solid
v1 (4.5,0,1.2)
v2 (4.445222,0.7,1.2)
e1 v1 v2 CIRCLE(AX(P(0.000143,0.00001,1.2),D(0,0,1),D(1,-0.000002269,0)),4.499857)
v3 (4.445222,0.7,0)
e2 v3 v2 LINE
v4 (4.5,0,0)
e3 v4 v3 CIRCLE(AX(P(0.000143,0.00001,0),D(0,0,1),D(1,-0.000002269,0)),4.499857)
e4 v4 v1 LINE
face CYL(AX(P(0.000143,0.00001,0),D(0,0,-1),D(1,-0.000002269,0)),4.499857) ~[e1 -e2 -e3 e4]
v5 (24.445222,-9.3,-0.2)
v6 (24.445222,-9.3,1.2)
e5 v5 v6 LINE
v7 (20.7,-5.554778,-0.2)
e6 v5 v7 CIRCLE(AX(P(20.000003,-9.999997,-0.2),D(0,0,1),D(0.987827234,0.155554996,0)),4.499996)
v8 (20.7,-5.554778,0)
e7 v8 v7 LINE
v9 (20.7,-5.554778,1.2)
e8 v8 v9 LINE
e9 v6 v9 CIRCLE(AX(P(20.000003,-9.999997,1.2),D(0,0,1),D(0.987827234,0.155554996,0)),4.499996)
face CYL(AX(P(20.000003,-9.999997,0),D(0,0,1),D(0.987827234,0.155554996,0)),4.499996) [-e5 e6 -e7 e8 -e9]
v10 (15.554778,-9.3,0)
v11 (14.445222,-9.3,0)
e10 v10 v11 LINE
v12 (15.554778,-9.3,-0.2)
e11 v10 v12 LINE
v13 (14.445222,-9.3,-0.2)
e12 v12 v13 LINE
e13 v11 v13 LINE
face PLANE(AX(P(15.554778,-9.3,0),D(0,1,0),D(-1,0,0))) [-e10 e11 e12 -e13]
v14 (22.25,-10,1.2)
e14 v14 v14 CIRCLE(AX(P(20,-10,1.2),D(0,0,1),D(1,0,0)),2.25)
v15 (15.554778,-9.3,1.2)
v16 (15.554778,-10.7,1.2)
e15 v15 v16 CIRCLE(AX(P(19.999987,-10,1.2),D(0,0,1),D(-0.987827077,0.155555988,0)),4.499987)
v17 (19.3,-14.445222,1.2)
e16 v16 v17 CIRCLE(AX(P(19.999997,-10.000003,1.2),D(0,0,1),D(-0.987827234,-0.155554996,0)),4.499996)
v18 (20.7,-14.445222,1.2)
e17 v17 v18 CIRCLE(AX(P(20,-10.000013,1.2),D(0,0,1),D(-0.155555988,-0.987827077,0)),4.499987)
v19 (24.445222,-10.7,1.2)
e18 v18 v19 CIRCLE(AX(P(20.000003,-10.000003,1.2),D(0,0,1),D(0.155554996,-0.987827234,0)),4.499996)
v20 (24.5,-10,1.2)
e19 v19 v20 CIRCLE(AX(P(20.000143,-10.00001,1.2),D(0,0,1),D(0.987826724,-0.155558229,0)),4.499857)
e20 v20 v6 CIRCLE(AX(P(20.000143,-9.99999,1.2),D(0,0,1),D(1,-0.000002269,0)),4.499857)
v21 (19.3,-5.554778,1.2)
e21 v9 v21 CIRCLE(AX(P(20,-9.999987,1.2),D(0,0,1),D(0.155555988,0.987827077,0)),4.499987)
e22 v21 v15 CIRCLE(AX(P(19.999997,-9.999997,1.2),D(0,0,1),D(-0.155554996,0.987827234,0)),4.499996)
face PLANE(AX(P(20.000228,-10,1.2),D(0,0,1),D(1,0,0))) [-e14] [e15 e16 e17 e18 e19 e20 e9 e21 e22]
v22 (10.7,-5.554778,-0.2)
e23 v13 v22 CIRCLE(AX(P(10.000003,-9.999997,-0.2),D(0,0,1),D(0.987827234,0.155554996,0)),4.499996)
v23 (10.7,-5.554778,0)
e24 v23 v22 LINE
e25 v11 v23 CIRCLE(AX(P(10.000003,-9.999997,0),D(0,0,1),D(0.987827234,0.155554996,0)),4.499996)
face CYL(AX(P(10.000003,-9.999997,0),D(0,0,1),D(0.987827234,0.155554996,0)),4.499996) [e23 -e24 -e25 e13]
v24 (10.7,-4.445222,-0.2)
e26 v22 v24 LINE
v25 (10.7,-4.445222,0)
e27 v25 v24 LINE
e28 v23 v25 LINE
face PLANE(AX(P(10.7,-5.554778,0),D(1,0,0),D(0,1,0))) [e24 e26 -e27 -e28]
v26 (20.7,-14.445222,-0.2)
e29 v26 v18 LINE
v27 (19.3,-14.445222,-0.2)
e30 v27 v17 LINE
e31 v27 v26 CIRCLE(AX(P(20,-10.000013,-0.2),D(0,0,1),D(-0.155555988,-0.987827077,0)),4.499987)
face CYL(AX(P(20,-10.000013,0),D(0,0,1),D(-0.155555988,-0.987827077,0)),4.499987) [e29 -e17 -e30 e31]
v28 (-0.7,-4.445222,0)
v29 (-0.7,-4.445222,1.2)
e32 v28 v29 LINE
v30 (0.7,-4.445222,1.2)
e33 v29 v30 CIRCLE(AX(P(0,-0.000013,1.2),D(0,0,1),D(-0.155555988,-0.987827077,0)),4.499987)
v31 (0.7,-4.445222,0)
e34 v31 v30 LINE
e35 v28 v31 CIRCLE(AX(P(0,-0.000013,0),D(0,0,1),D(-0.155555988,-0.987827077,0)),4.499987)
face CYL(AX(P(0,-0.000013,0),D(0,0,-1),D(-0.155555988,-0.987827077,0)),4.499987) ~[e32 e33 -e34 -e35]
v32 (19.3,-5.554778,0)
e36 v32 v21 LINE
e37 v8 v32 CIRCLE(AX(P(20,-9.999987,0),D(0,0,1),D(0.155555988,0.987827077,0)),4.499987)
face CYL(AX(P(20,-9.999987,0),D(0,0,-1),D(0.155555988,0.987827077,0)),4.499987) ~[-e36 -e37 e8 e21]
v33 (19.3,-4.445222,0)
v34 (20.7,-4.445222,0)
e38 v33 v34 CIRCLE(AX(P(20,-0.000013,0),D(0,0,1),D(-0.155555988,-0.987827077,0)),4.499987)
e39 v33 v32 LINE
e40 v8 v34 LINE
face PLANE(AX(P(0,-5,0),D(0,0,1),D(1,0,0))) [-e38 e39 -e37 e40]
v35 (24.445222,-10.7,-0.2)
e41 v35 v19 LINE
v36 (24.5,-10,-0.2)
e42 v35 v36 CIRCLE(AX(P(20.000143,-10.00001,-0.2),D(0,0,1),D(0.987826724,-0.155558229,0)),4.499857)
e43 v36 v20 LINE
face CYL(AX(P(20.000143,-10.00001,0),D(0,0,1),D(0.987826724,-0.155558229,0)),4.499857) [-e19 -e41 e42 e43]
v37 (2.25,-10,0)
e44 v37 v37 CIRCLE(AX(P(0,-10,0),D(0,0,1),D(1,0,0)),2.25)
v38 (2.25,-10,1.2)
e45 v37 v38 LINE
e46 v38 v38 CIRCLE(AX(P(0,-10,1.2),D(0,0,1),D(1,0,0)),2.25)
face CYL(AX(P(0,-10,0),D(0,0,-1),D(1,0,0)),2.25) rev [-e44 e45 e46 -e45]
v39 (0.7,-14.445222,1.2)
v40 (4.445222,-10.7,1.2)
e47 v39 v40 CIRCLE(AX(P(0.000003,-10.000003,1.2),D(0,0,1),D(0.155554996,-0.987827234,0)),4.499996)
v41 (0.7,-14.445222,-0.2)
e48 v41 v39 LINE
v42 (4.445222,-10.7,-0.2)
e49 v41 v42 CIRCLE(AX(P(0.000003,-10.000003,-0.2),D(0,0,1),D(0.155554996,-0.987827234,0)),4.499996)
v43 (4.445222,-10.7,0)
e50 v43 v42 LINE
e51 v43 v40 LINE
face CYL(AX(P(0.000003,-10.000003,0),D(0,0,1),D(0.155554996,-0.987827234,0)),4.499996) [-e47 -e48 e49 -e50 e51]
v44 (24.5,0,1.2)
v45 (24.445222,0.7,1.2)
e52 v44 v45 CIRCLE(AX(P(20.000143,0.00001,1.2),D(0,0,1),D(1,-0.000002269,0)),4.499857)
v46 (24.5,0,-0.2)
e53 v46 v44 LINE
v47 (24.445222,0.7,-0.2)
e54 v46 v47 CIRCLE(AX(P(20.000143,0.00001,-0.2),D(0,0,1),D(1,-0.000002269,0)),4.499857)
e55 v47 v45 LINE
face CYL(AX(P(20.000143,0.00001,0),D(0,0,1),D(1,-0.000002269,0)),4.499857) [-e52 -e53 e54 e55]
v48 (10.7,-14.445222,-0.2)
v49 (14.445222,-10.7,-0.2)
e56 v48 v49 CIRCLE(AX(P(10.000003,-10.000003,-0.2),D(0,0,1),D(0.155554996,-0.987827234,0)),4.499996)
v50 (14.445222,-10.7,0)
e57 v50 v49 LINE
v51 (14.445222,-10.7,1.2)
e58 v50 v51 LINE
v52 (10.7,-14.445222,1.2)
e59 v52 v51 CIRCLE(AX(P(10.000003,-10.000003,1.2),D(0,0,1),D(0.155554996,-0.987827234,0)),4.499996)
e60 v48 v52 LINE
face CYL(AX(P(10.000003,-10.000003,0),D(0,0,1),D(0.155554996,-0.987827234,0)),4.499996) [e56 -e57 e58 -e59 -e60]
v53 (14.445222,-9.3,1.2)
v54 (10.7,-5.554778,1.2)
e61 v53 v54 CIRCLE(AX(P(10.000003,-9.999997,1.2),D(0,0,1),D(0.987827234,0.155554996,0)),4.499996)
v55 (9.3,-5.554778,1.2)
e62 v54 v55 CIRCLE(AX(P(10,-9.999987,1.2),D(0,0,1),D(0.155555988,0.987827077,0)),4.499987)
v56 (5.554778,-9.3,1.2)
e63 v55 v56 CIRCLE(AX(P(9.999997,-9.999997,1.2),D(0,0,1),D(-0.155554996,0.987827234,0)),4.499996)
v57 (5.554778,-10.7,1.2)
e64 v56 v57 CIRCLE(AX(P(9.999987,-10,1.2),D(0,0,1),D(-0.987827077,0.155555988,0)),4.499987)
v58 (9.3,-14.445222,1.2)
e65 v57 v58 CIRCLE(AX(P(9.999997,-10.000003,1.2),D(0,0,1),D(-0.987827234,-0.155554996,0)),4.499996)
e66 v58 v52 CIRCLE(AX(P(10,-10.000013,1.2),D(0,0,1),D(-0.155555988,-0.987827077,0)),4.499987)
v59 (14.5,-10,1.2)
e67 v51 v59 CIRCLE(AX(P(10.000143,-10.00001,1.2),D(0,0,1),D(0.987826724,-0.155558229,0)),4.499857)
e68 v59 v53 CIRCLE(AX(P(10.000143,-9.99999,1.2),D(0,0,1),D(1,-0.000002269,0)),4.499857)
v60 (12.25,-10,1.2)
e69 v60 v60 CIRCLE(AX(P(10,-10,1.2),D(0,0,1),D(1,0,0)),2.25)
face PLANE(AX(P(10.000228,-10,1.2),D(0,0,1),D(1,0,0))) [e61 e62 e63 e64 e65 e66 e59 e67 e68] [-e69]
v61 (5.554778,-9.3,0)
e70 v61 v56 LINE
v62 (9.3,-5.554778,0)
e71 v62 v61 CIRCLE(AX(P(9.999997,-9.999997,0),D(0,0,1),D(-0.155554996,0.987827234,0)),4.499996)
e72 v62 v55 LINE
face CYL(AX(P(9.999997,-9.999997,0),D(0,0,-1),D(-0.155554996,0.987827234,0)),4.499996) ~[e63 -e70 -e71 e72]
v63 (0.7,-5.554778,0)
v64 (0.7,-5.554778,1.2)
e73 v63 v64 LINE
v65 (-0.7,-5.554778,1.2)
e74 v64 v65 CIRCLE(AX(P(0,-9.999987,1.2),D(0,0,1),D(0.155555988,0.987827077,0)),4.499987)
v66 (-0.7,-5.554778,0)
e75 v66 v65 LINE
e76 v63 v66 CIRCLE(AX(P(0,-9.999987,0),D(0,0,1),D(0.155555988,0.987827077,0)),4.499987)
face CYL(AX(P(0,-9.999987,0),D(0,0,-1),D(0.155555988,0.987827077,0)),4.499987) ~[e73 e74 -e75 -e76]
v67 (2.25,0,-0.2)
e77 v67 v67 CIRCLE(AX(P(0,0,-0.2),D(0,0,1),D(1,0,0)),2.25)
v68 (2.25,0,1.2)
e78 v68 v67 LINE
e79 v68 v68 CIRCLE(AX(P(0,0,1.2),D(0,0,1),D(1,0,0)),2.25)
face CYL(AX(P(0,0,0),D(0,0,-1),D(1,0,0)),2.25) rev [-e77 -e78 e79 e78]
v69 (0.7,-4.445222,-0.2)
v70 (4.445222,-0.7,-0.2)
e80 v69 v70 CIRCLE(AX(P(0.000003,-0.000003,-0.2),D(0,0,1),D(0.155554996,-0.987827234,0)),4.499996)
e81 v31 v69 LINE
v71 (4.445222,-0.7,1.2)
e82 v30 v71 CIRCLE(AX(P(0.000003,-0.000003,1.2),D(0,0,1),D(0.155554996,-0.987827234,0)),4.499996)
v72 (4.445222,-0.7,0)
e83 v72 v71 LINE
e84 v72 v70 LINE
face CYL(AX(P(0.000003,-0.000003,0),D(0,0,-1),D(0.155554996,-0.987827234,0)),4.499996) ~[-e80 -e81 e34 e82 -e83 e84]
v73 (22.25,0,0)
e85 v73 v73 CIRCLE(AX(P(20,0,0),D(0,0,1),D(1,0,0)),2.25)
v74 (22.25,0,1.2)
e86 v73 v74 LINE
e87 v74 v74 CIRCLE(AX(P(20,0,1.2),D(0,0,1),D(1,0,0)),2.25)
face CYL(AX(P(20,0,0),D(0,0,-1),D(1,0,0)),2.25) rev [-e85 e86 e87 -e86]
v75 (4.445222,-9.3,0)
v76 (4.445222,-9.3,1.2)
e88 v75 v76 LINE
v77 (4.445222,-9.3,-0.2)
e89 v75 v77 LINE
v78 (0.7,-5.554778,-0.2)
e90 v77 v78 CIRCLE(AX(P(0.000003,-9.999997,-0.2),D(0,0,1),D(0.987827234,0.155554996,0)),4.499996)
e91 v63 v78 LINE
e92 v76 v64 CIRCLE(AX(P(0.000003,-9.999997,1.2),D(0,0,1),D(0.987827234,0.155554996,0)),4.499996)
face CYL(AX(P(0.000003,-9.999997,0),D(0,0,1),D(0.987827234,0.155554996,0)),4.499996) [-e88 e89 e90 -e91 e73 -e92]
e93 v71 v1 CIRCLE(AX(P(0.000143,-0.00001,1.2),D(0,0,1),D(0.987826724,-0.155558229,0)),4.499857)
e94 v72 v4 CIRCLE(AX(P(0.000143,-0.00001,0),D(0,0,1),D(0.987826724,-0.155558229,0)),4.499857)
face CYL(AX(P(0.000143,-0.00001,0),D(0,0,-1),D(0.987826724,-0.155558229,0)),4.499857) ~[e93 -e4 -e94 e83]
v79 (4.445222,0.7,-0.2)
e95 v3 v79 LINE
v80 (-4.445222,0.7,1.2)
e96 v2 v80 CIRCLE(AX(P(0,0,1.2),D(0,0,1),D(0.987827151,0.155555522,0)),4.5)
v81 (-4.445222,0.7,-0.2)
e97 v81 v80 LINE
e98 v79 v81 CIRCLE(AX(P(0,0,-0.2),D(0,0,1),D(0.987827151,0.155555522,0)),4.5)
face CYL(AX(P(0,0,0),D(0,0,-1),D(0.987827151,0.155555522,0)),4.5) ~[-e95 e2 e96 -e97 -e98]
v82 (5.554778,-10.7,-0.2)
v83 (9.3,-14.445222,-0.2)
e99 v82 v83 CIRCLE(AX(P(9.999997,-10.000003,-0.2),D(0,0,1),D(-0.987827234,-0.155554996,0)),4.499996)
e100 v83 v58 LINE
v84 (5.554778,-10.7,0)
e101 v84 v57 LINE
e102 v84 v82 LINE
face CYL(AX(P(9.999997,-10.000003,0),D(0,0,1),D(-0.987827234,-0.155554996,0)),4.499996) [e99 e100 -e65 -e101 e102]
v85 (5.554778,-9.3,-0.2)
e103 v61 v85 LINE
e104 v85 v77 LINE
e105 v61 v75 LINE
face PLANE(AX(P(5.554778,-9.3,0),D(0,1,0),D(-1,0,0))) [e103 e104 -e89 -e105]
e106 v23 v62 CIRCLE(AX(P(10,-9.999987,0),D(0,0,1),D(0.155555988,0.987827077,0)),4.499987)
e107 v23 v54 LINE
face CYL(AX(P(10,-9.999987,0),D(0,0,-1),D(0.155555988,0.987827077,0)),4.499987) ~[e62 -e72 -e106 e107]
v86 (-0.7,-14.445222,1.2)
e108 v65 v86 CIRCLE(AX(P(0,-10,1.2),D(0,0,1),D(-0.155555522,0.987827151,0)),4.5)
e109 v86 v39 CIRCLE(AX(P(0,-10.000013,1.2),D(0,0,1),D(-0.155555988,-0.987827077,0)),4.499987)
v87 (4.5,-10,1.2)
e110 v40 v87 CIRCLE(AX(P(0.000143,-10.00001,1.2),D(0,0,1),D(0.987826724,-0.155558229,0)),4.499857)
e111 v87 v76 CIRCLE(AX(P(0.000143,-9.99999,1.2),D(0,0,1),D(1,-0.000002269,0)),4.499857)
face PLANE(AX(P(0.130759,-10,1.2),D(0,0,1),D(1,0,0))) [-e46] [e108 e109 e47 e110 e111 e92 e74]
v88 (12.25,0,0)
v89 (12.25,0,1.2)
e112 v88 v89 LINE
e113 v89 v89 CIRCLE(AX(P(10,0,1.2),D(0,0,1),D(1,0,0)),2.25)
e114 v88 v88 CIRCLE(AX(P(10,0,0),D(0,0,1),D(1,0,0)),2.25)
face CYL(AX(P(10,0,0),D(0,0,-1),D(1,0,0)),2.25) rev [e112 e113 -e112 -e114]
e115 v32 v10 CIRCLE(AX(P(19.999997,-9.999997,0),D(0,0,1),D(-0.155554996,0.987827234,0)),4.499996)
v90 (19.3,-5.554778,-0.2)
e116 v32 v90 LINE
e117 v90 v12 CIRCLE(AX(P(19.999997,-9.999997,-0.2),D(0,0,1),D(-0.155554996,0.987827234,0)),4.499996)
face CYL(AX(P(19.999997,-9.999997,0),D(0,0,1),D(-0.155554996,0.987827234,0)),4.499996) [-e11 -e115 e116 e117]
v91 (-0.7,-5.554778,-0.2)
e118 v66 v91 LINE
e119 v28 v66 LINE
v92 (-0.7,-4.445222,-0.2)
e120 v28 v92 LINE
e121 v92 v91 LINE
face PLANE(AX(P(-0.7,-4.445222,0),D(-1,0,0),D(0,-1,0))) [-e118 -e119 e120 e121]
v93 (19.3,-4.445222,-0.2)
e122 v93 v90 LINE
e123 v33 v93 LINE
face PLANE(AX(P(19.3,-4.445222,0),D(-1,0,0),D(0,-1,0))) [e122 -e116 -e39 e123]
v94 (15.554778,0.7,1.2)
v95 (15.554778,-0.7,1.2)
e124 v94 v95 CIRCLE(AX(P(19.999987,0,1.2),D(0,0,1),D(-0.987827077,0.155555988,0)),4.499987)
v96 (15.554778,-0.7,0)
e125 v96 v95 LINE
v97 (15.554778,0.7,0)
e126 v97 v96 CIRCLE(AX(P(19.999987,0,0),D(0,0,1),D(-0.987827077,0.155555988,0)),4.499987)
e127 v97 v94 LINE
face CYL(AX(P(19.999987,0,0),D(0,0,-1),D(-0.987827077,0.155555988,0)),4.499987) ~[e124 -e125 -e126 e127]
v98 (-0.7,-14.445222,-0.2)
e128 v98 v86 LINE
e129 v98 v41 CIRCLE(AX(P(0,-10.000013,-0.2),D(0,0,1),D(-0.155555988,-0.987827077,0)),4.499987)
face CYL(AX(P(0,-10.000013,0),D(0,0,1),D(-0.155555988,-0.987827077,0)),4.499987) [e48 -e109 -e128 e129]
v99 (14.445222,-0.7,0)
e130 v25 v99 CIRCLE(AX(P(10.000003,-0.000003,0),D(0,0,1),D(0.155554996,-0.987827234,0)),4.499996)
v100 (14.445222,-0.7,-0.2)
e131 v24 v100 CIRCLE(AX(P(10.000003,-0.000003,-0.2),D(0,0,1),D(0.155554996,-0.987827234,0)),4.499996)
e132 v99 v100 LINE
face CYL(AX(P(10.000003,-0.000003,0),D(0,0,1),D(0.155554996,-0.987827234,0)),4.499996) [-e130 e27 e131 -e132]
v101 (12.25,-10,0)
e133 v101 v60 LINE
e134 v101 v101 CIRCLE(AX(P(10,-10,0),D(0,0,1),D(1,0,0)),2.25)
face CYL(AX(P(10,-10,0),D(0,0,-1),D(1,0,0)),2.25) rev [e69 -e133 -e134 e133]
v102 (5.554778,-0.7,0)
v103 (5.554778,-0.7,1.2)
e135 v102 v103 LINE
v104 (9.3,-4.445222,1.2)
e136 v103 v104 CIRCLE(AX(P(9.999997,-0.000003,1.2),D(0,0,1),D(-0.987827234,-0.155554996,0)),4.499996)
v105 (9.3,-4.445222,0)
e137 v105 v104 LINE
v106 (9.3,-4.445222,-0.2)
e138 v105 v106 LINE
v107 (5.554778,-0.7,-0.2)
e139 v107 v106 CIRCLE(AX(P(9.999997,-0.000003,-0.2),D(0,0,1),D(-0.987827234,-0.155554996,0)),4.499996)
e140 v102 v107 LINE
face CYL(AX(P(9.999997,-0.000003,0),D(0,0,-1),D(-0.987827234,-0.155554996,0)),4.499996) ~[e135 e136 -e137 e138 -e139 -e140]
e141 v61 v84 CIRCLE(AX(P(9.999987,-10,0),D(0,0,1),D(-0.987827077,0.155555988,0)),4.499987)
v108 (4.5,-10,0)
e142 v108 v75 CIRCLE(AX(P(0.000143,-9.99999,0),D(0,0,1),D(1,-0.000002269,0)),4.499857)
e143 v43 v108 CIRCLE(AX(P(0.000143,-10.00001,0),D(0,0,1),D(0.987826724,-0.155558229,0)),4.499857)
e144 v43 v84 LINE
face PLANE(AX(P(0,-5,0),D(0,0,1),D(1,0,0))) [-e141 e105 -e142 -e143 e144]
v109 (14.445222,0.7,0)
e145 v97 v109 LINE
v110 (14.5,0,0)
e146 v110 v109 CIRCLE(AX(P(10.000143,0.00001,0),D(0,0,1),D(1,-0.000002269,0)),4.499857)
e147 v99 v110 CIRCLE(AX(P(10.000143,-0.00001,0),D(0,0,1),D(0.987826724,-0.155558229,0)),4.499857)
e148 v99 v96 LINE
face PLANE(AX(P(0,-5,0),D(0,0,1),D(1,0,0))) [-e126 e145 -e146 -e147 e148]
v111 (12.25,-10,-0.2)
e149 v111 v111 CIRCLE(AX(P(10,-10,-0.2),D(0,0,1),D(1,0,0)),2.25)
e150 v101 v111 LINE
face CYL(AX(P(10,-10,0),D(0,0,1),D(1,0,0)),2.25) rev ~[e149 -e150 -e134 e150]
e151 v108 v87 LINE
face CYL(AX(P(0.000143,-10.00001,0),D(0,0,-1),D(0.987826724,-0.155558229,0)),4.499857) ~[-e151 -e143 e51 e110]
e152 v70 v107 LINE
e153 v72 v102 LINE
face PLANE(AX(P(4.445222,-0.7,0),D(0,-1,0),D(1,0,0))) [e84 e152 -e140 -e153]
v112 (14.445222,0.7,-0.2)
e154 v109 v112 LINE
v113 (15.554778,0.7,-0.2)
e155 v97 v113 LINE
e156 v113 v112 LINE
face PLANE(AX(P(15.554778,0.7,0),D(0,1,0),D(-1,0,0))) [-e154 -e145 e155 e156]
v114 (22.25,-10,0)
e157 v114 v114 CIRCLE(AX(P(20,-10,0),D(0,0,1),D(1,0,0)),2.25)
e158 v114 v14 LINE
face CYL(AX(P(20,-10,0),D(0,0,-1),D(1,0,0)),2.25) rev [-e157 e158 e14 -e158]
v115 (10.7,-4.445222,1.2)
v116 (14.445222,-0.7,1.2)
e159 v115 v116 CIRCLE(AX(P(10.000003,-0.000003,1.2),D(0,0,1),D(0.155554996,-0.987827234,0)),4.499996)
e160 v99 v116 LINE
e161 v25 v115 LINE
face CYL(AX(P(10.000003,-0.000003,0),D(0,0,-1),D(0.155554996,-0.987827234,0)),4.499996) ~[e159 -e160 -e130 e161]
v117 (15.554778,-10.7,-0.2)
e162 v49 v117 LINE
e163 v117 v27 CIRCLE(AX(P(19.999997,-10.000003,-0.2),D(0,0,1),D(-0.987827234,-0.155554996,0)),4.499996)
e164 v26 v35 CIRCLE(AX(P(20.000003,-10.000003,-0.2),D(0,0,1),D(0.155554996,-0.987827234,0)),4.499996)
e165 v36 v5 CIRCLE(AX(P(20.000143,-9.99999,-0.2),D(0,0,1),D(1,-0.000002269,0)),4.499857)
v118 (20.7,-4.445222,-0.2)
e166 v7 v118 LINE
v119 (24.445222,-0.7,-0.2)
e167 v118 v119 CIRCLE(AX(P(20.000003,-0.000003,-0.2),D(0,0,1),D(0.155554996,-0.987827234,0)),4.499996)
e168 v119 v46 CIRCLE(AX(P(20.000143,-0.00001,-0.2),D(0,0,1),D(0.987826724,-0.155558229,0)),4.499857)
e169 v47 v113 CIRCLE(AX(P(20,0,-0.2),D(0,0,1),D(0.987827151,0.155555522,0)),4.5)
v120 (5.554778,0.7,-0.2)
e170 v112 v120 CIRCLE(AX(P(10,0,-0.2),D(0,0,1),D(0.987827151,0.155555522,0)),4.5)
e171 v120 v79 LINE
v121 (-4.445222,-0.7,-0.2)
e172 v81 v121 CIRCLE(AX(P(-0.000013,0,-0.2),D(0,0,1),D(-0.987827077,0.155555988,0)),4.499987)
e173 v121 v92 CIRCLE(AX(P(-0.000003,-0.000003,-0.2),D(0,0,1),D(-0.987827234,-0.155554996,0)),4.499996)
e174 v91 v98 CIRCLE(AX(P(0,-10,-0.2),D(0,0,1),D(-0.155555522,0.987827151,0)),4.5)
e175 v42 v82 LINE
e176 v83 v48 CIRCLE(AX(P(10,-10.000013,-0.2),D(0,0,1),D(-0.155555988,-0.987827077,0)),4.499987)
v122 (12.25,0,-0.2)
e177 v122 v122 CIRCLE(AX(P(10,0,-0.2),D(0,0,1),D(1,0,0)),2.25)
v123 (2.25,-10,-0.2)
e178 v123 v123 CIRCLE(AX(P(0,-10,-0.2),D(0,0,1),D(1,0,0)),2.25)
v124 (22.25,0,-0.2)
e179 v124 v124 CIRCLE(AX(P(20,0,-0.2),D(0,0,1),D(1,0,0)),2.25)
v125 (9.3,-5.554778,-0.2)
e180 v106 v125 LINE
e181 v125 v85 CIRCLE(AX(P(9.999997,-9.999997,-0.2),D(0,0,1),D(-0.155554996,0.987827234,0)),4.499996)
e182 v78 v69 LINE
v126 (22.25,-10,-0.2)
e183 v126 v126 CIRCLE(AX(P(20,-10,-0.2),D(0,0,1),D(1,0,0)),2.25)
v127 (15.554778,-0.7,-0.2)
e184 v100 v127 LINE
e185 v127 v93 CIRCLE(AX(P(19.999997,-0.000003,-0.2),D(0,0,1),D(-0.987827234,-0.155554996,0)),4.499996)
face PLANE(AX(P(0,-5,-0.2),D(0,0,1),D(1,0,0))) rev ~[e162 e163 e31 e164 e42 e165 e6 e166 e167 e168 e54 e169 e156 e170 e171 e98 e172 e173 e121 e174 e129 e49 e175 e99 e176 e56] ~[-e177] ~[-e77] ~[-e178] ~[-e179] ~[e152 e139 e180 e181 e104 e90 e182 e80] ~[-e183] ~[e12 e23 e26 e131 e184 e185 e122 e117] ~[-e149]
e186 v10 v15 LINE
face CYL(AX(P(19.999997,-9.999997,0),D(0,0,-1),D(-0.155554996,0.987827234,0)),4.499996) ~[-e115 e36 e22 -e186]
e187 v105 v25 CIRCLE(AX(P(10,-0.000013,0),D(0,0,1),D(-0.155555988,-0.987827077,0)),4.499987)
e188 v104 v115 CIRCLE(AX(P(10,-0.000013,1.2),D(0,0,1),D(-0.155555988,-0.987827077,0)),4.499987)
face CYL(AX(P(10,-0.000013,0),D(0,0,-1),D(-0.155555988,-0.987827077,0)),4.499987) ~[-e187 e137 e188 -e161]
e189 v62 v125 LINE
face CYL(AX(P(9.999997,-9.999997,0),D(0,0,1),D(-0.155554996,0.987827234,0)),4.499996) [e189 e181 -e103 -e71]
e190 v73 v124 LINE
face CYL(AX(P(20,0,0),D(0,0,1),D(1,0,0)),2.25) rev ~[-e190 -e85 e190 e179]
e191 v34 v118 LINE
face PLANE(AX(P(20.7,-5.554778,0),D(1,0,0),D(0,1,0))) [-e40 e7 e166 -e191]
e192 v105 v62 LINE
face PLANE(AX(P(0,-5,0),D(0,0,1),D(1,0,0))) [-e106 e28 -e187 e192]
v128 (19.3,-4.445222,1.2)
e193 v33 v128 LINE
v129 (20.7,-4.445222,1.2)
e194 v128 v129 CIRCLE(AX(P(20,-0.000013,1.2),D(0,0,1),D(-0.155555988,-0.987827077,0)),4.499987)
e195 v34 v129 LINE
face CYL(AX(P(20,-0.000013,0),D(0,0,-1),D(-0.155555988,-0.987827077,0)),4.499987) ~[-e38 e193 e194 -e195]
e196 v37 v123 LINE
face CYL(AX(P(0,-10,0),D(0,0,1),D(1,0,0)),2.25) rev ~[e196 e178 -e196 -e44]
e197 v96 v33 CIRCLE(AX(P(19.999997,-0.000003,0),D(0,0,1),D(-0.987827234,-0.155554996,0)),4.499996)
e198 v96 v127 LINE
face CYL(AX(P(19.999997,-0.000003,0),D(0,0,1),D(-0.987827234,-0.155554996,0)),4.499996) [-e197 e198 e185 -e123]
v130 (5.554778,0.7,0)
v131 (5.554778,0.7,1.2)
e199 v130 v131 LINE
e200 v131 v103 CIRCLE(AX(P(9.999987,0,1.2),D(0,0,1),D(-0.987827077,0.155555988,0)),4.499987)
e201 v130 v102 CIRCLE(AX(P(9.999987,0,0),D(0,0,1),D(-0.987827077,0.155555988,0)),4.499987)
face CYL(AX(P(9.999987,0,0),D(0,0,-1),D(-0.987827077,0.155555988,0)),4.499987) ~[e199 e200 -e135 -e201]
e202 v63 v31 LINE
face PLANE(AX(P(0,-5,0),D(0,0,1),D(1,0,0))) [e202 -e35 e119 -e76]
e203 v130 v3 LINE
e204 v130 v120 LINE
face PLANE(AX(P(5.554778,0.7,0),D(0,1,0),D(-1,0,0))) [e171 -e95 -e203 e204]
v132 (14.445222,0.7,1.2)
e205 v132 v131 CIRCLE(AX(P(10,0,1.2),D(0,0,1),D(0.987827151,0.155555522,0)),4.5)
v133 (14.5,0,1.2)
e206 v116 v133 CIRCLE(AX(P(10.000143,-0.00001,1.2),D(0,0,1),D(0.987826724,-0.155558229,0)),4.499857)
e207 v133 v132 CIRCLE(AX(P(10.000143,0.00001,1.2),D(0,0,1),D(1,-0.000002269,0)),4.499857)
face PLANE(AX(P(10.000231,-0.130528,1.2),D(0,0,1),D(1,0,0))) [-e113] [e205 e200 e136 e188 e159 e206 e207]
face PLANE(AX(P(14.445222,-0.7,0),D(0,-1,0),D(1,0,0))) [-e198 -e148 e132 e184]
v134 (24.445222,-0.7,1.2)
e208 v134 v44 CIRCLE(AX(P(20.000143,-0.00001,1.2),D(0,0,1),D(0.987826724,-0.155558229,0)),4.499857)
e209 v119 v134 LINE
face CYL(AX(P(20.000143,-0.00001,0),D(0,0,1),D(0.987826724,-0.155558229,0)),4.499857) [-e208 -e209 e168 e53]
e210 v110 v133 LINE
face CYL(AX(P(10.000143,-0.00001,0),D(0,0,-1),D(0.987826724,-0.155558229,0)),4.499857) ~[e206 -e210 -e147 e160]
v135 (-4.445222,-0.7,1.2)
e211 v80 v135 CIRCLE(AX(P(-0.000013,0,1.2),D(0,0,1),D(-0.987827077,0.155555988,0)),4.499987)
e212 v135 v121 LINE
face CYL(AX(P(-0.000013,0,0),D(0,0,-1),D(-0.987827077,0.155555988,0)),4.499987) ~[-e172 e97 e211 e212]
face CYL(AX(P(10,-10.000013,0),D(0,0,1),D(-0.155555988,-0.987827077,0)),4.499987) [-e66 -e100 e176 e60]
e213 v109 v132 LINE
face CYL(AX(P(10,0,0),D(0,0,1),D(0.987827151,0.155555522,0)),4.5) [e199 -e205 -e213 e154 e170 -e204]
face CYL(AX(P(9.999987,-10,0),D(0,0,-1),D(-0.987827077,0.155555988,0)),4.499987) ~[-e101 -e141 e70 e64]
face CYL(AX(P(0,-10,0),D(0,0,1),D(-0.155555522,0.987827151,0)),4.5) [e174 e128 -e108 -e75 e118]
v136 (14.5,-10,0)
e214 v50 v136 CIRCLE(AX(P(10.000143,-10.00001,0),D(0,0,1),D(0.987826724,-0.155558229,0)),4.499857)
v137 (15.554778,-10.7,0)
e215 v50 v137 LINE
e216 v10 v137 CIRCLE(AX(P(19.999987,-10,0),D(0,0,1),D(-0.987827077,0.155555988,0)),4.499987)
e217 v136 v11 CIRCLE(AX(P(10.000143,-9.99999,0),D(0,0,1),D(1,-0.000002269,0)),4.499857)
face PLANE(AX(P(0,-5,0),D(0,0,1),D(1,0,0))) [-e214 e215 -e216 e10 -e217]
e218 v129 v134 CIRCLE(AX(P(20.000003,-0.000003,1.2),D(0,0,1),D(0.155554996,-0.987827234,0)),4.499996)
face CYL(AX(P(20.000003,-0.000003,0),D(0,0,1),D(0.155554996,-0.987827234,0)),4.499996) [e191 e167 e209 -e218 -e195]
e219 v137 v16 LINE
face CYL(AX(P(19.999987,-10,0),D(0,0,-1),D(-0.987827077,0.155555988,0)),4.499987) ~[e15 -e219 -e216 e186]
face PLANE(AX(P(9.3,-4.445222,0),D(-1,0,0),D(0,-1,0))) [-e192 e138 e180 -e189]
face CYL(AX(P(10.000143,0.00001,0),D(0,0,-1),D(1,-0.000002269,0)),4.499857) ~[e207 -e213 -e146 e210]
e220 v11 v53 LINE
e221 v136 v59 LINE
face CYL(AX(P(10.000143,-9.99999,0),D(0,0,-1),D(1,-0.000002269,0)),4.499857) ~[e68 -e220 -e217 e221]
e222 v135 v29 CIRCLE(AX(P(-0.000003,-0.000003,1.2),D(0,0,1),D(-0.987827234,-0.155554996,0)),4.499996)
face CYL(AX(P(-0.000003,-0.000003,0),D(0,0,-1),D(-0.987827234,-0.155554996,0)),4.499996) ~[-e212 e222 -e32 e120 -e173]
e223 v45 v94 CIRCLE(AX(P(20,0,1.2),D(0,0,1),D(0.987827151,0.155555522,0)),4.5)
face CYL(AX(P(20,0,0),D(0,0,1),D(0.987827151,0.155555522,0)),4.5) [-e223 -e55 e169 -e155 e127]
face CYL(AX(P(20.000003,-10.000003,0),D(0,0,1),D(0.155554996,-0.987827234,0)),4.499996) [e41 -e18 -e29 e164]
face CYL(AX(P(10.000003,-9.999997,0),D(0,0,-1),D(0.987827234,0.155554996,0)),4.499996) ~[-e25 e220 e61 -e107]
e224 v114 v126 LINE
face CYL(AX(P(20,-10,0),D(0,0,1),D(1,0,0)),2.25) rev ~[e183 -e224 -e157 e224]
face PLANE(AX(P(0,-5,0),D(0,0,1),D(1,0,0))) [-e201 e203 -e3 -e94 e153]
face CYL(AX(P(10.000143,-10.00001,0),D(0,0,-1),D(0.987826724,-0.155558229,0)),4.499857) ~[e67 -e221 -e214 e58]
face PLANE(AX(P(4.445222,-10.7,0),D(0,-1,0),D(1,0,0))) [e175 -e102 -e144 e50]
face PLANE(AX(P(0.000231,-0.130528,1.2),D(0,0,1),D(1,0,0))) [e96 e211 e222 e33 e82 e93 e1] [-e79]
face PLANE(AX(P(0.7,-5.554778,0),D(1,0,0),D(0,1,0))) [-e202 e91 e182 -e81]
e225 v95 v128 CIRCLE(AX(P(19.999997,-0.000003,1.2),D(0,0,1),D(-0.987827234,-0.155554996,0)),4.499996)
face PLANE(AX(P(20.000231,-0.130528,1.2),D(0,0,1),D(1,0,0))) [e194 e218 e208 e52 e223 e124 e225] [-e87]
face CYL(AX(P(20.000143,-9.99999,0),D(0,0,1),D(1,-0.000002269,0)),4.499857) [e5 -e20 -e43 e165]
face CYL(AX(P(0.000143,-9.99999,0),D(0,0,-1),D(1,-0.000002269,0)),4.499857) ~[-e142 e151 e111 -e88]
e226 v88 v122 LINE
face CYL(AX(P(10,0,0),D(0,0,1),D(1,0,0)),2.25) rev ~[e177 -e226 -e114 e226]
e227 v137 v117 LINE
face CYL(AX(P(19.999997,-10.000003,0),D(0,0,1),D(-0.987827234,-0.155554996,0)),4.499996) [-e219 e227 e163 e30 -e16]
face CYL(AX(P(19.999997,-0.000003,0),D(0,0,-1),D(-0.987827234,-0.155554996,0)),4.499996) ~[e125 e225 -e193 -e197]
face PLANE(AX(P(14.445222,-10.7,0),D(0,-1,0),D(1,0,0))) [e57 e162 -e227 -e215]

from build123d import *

# Parameters (mm, degrees)
F0_R     = 2.25
F1_DEPTH = 0.2
F2_DEPTH = 1.2


with BuildPart() as f1:
    # F0 (on Top) → F1 (new body)
    with BuildSketch(Plane.XY):
        with BuildLine():
            Line((0.7, -5.554778), (0.7, -4.445222))
            ThreePointArc((0.7, -4.445222), (0, -4.5), (-0.7, -4.445222))
            Line((-0.7, -4.445222), (-0.7, -5.554778))
            ThreePointArc((-0.7, -5.554778), (0, -5.5), (0.7, -5.554778))
        make_face()
        with BuildLine():
            ThreePointArc((4.445222, 0.7), (4.486285, 0.35107), (4.5, 0))
            ThreePointArc((4.5, 0), (4.486285, -0.35107), (4.445222, -0.7))
            Line((4.445222, -0.7), (5.554778, -0.7))
            ThreePointArc((5.554778, -0.7), (5.5, 0), (5.554778, 0.7))
            Line((5.554778, 0.7), (4.445222, 0.7))
        make_face()
        with BuildLine():
            Line((5.554778, -9.3), (4.445222, -9.3))
            ThreePointArc((4.445222, -9.3), (4.486285, -9.64893), (4.5, -10))
            ThreePointArc((4.5, -10), (4.486285, -10.35107), (4.445222, -10.7))
            Line((4.445222, -10.7), (5.554778, -10.7))
            ThreePointArc((5.554778, -10.7), (5.5, -10), (5.554778, -9.3))
        make_face()
        with BuildLine():
            Line((15.554778, 0.7), (14.445222, 0.7))
            ThreePointArc((14.445222, 0.7), (14.486285, 0.35107), (14.5, 0))
            ThreePointArc((14.5, 0), (14.486285, -0.35107), (14.445222, -0.7))
            Line((14.445222, -0.7), (15.554778, -0.7))
            ThreePointArc((15.554778, -0.7), (15.5, 0), (15.554778, 0.7))
        make_face()
        with BuildLine():
            Line((15.554778, -9.3), (14.445222, -9.3))
            ThreePointArc((14.445222, -9.3), (14.486285, -9.64893), (14.5, -10))
            ThreePointArc((14.5, -10), (14.486285, -10.35107), (14.445222, -10.7))
            Line((14.445222, -10.7), (15.554778, -10.7))
            ThreePointArc((15.554778, -10.7), (15.5, -10), (15.554778, -9.3))
        make_face()
        with BuildLine():
            ThreePointArc((20.7, -4.445222), (20, -4.5), (19.3, -4.445222))
            Line((19.3, -4.445222), (19.3, -5.554778))
            ThreePointArc((19.3, -5.554778), (20, -5.5), (20.7, -5.554778))
            Line((20.7, -5.554778), (20.7, -4.445222))
        make_face()
        with BuildLine():
            ThreePointArc((4.445222, -9.3), (3.181981, -6.818019), (0.7, -5.554778))
            ThreePointArc((0.7, -5.554778), (0, -5.5), (-0.7, -5.554778))
            ThreePointArc((-0.7, -5.554778), (-4.5, -10), (-0.7, -14.445222))
            ThreePointArc((-0.7, -14.445222), (0, -14.5), (0.7, -14.445222))
            ThreePointArc((0.7, -14.445222), (3.181981, -13.181981), (4.445222, -10.7))
            ThreePointArc((4.445222, -10.7), (4.486285, -10.35107), (4.5, -10))
            ThreePointArc((4.5, -10), (4.486285, -9.64893), (4.445222, -9.3))
        make_face()
        with Locations((0, -10)):
            Circle(F0_R, mode=Mode.SUBTRACT)
        with BuildLine():
            ThreePointArc((24.445222, 0.7), (20, 4.5), (15.554778, 0.7))
            ThreePointArc((15.554778, 0.7), (15.5, 0), (15.554778, -0.7))
            ThreePointArc((15.554778, -0.7), (16.818019, -3.181981), (19.3, -4.445222))
            ThreePointArc((19.3, -4.445222), (20, -4.5), (20.7, -4.445222))
            ThreePointArc((20.7, -4.445222), (23.181981, -3.181981), (24.445222, -0.7))
            ThreePointArc((24.445222, -0.7), (24.486285, -0.35107), (24.5, 0))
            ThreePointArc((24.5, 0), (24.486285, 0.35107), (24.445222, 0.7))
        make_face()
        with Locations((20, 0)):
            Circle(F0_R, mode=Mode.SUBTRACT)
        with BuildLine():
            ThreePointArc((20.7, -5.554778), (20, -5.5), (19.3, -5.554778))
            ThreePointArc((19.3, -5.554778), (16.818019, -6.818019), (15.554778, -9.3))
            ThreePointArc((15.554778, -9.3), (15.5, -10), (15.554778, -10.7))
            ThreePointArc((15.554778, -10.7), (16.818019, -13.181981), (19.3, -14.445222))
            ThreePointArc((19.3, -14.445222), (20, -14.5), (20.7, -14.445222))
            ThreePointArc((20.7, -14.445222), (23.181981, -13.181981), (24.445222, -10.7))
            ThreePointArc((24.445222, -10.7), (24.486285, -10.35107), (24.5, -10))
            ThreePointArc((24.5, -10), (24.486285, -9.64893), (24.445222, -9.3))
            ThreePointArc((24.445222, -9.3), (23.181981, -6.818019), (20.7, -5.554778))
        make_face()
        with Locations((20, -10)):
            Circle(F0_R, mode=Mode.SUBTRACT)
        with BuildLine():
            ThreePointArc((14.445222, 0.7), (10, 4.5), (5.554778, 0.7))
            ThreePointArc((5.554778, 0.7), (5.5, 0), (5.554778, -0.7))
            ThreePointArc((5.554778, -0.7), (6.818019, -3.181981), (9.3, -4.445222))
            ThreePointArc((9.3, -4.445222), (10, -4.5), (10.7, -4.445222))
            ThreePointArc((10.7, -4.445222), (13.181981, -3.181981), (14.445222, -0.7))
            ThreePointArc((14.445222, -0.7), (14.486285, -0.35107), (14.5, 0))
            ThreePointArc((14.5, 0), (14.486285, 0.35107), (14.445222, 0.7))
        make_face()
        with Locations((10, 0)):
            Circle(F0_R, mode=Mode.SUBTRACT)
        with BuildLine():
            ThreePointArc((10.7, -5.554778), (10, -5.5), (9.3, -5.554778))
            ThreePointArc((9.3, -5.554778), (6.818019, -6.818019), (5.554778, -9.3))
            ThreePointArc((5.554778, -9.3), (5.5, -10), (5.554778, -10.7))
            ThreePointArc((5.554778, -10.7), (6.818019, -13.181981), (9.3, -14.445222))
            ThreePointArc((9.3, -14.445222), (10, -14.5), (10.7, -14.445222))
            ThreePointArc((10.7, -14.445222), (13.181981, -13.181981), (14.445222, -10.7))
            ThreePointArc((14.445222, -10.7), (14.486285, -10.35107), (14.5, -10))
            ThreePointArc((14.5, -10), (14.486285, -9.64893), (14.445222, -9.3))
            ThreePointArc((14.445222, -9.3), (13.181981, -6.818019), (10.7, -5.554778))
        make_face()
        with Locations((10, -10)):
            Circle(F0_R, mode=Mode.SUBTRACT)
        with BuildLine():
            ThreePointArc((4.445222, -0.7), (4.486285, -0.35107), (4.5, 0))
            ThreePointArc((4.5, 0), (4.486285, 0.35107), (4.445222, 0.7))
            ThreePointArc((4.445222, 0.7), (0, 4.5), (-4.445222, 0.7))
            ThreePointArc((-4.445222, 0.7), (-4.5, 0), (-4.445222, -0.7))
            ThreePointArc((-4.445222, -0.7), (-3.181981, -3.181981), (-0.7, -4.445222))
            ThreePointArc((-0.7, -4.445222), (0, -4.5), (0.7, -4.445222))
            ThreePointArc((0.7, -4.445222), (3.181981, -3.181981), (4.445222, -0.7))
        make_face()
        Circle(F0_R, mode=Mode.SUBTRACT)
        with BuildLine():
            ThreePointArc((10.7, -4.445222), (10, -4.5), (9.3, -4.445222))
            Line((9.3, -4.445222), (9.3, -5.554778))
            ThreePointArc((9.3, -5.554778), (10, -5.5), (10.7, -5.554778))
            Line((10.7, -5.554778), (10.7, -4.445222))
        make_face()
    extrude(amount=-F1_DEPTH)

    # F0 (on Top) → F2 (join)
    with BuildSketch(Plane.XY):
        with BuildLine():
            ThreePointArc((4.445222, -0.7), (4.486285, -0.35107), (4.5, 0))
            ThreePointArc((4.5, 0), (4.486285, 0.35107), (4.445222, 0.7))
            ThreePointArc((4.445222, 0.7), (0, 4.5), (-4.445222, 0.7))
            ThreePointArc((-4.445222, 0.7), (-4.5, 0), (-4.445222, -0.7))
            ThreePointArc((-4.445222, -0.7), (-3.181981, -3.181981), (-0.7, -4.445222))
            ThreePointArc((-0.7, -4.445222), (0, -4.5), (0.7, -4.445222))
            ThreePointArc((0.7, -4.445222), (3.181981, -3.181981), (4.445222, -0.7))
        make_face()
        Circle(F0_R, mode=Mode.SUBTRACT)
        with BuildLine():
            ThreePointArc((14.445222, 0.7), (10, 4.5), (5.554778, 0.7))
            ThreePointArc((5.554778, 0.7), (5.5, 0), (5.554778, -0.7))
            ThreePointArc((5.554778, -0.7), (6.818019, -3.181981), (9.3, -4.445222))
            ThreePointArc((9.3, -4.445222), (10, -4.5), (10.7, -4.445222))
            ThreePointArc((10.7, -4.445222), (13.181981, -3.181981), (14.445222, -0.7))
            ThreePointArc((14.445222, -0.7), (14.486285, -0.35107), (14.5, 0))
            ThreePointArc((14.5, 0), (14.486285, 0.35107), (14.445222, 0.7))
        make_face()
        with Locations((10, 0)):
            Circle(F0_R, mode=Mode.SUBTRACT)
        with BuildLine():
            ThreePointArc((24.445222, 0.7), (20, 4.5), (15.554778, 0.7))
            ThreePointArc((15.554778, 0.7), (15.5, 0), (15.554778, -0.7))
            ThreePointArc((15.554778, -0.7), (16.818019, -3.181981), (19.3, -4.445222))
            ThreePointArc((19.3, -4.445222), (20, -4.5), (20.7, -4.445222))
            ThreePointArc((20.7, -4.445222), (23.181981, -3.181981), (24.445222, -0.7))
            ThreePointArc((24.445222, -0.7), (24.486285, -0.35107), (24.5, 0))
            ThreePointArc((24.5, 0), (24.486285, 0.35107), (24.445222, 0.7))
        make_face()
        with Locations((20, 0)):
            Circle(F0_R, mode=Mode.SUBTRACT)
        with BuildLine():
            ThreePointArc((20.7, -5.554778), (20, -5.5), (19.3, -5.554778))
            ThreePointArc((19.3, -5.554778), (16.818019, -6.818019), (15.554778, -9.3))
            ThreePointArc((15.554778, -9.3), (15.5, -10), (15.554778, -10.7))
            ThreePointArc((15.554778, -10.7), (16.818019, -13.181981), (19.3, -14.445222))
            ThreePointArc((19.3, -14.445222), (20, -14.5), (20.7, -14.445222))
            ThreePointArc((20.7, -14.445222), (23.181981, -13.181981), (24.445222, -10.7))
            ThreePointArc((24.445222, -10.7), (24.486285, -10.35107), (24.5, -10))
            ThreePointArc((24.5, -10), (24.486285, -9.64893), (24.445222, -9.3))
            ThreePointArc((24.445222, -9.3), (23.181981, -6.818019), (20.7, -5.554778))
        make_face()
        with Locations((20, -10)):
            Circle(F0_R, mode=Mode.SUBTRACT)
        with BuildLine():
            ThreePointArc((10.7, -5.554778), (10, -5.5), (9.3, -5.554778))
            ThreePointArc((9.3, -5.554778), (6.818019, -6.818019), (5.554778, -9.3))
            ThreePointArc((5.554778, -9.3), (5.5, -10), (5.554778, -10.7))
            ThreePointArc((5.554778, -10.7), (6.818019, -13.181981), (9.3, -14.445222))
            ThreePointArc((9.3, -14.445222), (10, -14.5), (10.7, -14.445222))
            ThreePointArc((10.7, -14.445222), (13.181981, -13.181981), (14.445222, -10.7))
            ThreePointArc((14.445222, -10.7), (14.486285, -10.35107), (14.5, -10))
            ThreePointArc((14.5, -10), (14.486285, -9.64893), (14.445222, -9.3))
            ThreePointArc((14.445222, -9.3), (13.181981, -6.818019), (10.7, -5.554778))
        make_face()
        with Locations((10, -10)):
            Circle(F0_R, mode=Mode.SUBTRACT)
        with BuildLine():
            ThreePointArc((4.445222, -9.3), (3.181981, -6.818019), (0.7, -5.554778))
            ThreePointArc((0.7, -5.554778), (0, -5.5), (-0.7, -5.554778))
            ThreePointArc((-0.7, -5.554778), (-4.5, -10), (-0.7, -14.445222))
            ThreePointArc((-0.7, -14.445222), (0, -14.5), (0.7, -14.445222))
            ThreePointArc((0.7, -14.445222), (3.181981, -13.181981), (4.445222, -10.7))
            ThreePointArc((4.445222, -10.7), (4.486285, -10.35107), (4.5, -10))
            ThreePointArc((4.5, -10), (4.486285, -9.64893), (4.445222, -9.3))
        make_face()
        with Locations((0, -10)):
            Circle(F0_R, mode=Mode.SUBTRACT)
    extrude(amount=F2_DEPTH)


solid = f1.part
